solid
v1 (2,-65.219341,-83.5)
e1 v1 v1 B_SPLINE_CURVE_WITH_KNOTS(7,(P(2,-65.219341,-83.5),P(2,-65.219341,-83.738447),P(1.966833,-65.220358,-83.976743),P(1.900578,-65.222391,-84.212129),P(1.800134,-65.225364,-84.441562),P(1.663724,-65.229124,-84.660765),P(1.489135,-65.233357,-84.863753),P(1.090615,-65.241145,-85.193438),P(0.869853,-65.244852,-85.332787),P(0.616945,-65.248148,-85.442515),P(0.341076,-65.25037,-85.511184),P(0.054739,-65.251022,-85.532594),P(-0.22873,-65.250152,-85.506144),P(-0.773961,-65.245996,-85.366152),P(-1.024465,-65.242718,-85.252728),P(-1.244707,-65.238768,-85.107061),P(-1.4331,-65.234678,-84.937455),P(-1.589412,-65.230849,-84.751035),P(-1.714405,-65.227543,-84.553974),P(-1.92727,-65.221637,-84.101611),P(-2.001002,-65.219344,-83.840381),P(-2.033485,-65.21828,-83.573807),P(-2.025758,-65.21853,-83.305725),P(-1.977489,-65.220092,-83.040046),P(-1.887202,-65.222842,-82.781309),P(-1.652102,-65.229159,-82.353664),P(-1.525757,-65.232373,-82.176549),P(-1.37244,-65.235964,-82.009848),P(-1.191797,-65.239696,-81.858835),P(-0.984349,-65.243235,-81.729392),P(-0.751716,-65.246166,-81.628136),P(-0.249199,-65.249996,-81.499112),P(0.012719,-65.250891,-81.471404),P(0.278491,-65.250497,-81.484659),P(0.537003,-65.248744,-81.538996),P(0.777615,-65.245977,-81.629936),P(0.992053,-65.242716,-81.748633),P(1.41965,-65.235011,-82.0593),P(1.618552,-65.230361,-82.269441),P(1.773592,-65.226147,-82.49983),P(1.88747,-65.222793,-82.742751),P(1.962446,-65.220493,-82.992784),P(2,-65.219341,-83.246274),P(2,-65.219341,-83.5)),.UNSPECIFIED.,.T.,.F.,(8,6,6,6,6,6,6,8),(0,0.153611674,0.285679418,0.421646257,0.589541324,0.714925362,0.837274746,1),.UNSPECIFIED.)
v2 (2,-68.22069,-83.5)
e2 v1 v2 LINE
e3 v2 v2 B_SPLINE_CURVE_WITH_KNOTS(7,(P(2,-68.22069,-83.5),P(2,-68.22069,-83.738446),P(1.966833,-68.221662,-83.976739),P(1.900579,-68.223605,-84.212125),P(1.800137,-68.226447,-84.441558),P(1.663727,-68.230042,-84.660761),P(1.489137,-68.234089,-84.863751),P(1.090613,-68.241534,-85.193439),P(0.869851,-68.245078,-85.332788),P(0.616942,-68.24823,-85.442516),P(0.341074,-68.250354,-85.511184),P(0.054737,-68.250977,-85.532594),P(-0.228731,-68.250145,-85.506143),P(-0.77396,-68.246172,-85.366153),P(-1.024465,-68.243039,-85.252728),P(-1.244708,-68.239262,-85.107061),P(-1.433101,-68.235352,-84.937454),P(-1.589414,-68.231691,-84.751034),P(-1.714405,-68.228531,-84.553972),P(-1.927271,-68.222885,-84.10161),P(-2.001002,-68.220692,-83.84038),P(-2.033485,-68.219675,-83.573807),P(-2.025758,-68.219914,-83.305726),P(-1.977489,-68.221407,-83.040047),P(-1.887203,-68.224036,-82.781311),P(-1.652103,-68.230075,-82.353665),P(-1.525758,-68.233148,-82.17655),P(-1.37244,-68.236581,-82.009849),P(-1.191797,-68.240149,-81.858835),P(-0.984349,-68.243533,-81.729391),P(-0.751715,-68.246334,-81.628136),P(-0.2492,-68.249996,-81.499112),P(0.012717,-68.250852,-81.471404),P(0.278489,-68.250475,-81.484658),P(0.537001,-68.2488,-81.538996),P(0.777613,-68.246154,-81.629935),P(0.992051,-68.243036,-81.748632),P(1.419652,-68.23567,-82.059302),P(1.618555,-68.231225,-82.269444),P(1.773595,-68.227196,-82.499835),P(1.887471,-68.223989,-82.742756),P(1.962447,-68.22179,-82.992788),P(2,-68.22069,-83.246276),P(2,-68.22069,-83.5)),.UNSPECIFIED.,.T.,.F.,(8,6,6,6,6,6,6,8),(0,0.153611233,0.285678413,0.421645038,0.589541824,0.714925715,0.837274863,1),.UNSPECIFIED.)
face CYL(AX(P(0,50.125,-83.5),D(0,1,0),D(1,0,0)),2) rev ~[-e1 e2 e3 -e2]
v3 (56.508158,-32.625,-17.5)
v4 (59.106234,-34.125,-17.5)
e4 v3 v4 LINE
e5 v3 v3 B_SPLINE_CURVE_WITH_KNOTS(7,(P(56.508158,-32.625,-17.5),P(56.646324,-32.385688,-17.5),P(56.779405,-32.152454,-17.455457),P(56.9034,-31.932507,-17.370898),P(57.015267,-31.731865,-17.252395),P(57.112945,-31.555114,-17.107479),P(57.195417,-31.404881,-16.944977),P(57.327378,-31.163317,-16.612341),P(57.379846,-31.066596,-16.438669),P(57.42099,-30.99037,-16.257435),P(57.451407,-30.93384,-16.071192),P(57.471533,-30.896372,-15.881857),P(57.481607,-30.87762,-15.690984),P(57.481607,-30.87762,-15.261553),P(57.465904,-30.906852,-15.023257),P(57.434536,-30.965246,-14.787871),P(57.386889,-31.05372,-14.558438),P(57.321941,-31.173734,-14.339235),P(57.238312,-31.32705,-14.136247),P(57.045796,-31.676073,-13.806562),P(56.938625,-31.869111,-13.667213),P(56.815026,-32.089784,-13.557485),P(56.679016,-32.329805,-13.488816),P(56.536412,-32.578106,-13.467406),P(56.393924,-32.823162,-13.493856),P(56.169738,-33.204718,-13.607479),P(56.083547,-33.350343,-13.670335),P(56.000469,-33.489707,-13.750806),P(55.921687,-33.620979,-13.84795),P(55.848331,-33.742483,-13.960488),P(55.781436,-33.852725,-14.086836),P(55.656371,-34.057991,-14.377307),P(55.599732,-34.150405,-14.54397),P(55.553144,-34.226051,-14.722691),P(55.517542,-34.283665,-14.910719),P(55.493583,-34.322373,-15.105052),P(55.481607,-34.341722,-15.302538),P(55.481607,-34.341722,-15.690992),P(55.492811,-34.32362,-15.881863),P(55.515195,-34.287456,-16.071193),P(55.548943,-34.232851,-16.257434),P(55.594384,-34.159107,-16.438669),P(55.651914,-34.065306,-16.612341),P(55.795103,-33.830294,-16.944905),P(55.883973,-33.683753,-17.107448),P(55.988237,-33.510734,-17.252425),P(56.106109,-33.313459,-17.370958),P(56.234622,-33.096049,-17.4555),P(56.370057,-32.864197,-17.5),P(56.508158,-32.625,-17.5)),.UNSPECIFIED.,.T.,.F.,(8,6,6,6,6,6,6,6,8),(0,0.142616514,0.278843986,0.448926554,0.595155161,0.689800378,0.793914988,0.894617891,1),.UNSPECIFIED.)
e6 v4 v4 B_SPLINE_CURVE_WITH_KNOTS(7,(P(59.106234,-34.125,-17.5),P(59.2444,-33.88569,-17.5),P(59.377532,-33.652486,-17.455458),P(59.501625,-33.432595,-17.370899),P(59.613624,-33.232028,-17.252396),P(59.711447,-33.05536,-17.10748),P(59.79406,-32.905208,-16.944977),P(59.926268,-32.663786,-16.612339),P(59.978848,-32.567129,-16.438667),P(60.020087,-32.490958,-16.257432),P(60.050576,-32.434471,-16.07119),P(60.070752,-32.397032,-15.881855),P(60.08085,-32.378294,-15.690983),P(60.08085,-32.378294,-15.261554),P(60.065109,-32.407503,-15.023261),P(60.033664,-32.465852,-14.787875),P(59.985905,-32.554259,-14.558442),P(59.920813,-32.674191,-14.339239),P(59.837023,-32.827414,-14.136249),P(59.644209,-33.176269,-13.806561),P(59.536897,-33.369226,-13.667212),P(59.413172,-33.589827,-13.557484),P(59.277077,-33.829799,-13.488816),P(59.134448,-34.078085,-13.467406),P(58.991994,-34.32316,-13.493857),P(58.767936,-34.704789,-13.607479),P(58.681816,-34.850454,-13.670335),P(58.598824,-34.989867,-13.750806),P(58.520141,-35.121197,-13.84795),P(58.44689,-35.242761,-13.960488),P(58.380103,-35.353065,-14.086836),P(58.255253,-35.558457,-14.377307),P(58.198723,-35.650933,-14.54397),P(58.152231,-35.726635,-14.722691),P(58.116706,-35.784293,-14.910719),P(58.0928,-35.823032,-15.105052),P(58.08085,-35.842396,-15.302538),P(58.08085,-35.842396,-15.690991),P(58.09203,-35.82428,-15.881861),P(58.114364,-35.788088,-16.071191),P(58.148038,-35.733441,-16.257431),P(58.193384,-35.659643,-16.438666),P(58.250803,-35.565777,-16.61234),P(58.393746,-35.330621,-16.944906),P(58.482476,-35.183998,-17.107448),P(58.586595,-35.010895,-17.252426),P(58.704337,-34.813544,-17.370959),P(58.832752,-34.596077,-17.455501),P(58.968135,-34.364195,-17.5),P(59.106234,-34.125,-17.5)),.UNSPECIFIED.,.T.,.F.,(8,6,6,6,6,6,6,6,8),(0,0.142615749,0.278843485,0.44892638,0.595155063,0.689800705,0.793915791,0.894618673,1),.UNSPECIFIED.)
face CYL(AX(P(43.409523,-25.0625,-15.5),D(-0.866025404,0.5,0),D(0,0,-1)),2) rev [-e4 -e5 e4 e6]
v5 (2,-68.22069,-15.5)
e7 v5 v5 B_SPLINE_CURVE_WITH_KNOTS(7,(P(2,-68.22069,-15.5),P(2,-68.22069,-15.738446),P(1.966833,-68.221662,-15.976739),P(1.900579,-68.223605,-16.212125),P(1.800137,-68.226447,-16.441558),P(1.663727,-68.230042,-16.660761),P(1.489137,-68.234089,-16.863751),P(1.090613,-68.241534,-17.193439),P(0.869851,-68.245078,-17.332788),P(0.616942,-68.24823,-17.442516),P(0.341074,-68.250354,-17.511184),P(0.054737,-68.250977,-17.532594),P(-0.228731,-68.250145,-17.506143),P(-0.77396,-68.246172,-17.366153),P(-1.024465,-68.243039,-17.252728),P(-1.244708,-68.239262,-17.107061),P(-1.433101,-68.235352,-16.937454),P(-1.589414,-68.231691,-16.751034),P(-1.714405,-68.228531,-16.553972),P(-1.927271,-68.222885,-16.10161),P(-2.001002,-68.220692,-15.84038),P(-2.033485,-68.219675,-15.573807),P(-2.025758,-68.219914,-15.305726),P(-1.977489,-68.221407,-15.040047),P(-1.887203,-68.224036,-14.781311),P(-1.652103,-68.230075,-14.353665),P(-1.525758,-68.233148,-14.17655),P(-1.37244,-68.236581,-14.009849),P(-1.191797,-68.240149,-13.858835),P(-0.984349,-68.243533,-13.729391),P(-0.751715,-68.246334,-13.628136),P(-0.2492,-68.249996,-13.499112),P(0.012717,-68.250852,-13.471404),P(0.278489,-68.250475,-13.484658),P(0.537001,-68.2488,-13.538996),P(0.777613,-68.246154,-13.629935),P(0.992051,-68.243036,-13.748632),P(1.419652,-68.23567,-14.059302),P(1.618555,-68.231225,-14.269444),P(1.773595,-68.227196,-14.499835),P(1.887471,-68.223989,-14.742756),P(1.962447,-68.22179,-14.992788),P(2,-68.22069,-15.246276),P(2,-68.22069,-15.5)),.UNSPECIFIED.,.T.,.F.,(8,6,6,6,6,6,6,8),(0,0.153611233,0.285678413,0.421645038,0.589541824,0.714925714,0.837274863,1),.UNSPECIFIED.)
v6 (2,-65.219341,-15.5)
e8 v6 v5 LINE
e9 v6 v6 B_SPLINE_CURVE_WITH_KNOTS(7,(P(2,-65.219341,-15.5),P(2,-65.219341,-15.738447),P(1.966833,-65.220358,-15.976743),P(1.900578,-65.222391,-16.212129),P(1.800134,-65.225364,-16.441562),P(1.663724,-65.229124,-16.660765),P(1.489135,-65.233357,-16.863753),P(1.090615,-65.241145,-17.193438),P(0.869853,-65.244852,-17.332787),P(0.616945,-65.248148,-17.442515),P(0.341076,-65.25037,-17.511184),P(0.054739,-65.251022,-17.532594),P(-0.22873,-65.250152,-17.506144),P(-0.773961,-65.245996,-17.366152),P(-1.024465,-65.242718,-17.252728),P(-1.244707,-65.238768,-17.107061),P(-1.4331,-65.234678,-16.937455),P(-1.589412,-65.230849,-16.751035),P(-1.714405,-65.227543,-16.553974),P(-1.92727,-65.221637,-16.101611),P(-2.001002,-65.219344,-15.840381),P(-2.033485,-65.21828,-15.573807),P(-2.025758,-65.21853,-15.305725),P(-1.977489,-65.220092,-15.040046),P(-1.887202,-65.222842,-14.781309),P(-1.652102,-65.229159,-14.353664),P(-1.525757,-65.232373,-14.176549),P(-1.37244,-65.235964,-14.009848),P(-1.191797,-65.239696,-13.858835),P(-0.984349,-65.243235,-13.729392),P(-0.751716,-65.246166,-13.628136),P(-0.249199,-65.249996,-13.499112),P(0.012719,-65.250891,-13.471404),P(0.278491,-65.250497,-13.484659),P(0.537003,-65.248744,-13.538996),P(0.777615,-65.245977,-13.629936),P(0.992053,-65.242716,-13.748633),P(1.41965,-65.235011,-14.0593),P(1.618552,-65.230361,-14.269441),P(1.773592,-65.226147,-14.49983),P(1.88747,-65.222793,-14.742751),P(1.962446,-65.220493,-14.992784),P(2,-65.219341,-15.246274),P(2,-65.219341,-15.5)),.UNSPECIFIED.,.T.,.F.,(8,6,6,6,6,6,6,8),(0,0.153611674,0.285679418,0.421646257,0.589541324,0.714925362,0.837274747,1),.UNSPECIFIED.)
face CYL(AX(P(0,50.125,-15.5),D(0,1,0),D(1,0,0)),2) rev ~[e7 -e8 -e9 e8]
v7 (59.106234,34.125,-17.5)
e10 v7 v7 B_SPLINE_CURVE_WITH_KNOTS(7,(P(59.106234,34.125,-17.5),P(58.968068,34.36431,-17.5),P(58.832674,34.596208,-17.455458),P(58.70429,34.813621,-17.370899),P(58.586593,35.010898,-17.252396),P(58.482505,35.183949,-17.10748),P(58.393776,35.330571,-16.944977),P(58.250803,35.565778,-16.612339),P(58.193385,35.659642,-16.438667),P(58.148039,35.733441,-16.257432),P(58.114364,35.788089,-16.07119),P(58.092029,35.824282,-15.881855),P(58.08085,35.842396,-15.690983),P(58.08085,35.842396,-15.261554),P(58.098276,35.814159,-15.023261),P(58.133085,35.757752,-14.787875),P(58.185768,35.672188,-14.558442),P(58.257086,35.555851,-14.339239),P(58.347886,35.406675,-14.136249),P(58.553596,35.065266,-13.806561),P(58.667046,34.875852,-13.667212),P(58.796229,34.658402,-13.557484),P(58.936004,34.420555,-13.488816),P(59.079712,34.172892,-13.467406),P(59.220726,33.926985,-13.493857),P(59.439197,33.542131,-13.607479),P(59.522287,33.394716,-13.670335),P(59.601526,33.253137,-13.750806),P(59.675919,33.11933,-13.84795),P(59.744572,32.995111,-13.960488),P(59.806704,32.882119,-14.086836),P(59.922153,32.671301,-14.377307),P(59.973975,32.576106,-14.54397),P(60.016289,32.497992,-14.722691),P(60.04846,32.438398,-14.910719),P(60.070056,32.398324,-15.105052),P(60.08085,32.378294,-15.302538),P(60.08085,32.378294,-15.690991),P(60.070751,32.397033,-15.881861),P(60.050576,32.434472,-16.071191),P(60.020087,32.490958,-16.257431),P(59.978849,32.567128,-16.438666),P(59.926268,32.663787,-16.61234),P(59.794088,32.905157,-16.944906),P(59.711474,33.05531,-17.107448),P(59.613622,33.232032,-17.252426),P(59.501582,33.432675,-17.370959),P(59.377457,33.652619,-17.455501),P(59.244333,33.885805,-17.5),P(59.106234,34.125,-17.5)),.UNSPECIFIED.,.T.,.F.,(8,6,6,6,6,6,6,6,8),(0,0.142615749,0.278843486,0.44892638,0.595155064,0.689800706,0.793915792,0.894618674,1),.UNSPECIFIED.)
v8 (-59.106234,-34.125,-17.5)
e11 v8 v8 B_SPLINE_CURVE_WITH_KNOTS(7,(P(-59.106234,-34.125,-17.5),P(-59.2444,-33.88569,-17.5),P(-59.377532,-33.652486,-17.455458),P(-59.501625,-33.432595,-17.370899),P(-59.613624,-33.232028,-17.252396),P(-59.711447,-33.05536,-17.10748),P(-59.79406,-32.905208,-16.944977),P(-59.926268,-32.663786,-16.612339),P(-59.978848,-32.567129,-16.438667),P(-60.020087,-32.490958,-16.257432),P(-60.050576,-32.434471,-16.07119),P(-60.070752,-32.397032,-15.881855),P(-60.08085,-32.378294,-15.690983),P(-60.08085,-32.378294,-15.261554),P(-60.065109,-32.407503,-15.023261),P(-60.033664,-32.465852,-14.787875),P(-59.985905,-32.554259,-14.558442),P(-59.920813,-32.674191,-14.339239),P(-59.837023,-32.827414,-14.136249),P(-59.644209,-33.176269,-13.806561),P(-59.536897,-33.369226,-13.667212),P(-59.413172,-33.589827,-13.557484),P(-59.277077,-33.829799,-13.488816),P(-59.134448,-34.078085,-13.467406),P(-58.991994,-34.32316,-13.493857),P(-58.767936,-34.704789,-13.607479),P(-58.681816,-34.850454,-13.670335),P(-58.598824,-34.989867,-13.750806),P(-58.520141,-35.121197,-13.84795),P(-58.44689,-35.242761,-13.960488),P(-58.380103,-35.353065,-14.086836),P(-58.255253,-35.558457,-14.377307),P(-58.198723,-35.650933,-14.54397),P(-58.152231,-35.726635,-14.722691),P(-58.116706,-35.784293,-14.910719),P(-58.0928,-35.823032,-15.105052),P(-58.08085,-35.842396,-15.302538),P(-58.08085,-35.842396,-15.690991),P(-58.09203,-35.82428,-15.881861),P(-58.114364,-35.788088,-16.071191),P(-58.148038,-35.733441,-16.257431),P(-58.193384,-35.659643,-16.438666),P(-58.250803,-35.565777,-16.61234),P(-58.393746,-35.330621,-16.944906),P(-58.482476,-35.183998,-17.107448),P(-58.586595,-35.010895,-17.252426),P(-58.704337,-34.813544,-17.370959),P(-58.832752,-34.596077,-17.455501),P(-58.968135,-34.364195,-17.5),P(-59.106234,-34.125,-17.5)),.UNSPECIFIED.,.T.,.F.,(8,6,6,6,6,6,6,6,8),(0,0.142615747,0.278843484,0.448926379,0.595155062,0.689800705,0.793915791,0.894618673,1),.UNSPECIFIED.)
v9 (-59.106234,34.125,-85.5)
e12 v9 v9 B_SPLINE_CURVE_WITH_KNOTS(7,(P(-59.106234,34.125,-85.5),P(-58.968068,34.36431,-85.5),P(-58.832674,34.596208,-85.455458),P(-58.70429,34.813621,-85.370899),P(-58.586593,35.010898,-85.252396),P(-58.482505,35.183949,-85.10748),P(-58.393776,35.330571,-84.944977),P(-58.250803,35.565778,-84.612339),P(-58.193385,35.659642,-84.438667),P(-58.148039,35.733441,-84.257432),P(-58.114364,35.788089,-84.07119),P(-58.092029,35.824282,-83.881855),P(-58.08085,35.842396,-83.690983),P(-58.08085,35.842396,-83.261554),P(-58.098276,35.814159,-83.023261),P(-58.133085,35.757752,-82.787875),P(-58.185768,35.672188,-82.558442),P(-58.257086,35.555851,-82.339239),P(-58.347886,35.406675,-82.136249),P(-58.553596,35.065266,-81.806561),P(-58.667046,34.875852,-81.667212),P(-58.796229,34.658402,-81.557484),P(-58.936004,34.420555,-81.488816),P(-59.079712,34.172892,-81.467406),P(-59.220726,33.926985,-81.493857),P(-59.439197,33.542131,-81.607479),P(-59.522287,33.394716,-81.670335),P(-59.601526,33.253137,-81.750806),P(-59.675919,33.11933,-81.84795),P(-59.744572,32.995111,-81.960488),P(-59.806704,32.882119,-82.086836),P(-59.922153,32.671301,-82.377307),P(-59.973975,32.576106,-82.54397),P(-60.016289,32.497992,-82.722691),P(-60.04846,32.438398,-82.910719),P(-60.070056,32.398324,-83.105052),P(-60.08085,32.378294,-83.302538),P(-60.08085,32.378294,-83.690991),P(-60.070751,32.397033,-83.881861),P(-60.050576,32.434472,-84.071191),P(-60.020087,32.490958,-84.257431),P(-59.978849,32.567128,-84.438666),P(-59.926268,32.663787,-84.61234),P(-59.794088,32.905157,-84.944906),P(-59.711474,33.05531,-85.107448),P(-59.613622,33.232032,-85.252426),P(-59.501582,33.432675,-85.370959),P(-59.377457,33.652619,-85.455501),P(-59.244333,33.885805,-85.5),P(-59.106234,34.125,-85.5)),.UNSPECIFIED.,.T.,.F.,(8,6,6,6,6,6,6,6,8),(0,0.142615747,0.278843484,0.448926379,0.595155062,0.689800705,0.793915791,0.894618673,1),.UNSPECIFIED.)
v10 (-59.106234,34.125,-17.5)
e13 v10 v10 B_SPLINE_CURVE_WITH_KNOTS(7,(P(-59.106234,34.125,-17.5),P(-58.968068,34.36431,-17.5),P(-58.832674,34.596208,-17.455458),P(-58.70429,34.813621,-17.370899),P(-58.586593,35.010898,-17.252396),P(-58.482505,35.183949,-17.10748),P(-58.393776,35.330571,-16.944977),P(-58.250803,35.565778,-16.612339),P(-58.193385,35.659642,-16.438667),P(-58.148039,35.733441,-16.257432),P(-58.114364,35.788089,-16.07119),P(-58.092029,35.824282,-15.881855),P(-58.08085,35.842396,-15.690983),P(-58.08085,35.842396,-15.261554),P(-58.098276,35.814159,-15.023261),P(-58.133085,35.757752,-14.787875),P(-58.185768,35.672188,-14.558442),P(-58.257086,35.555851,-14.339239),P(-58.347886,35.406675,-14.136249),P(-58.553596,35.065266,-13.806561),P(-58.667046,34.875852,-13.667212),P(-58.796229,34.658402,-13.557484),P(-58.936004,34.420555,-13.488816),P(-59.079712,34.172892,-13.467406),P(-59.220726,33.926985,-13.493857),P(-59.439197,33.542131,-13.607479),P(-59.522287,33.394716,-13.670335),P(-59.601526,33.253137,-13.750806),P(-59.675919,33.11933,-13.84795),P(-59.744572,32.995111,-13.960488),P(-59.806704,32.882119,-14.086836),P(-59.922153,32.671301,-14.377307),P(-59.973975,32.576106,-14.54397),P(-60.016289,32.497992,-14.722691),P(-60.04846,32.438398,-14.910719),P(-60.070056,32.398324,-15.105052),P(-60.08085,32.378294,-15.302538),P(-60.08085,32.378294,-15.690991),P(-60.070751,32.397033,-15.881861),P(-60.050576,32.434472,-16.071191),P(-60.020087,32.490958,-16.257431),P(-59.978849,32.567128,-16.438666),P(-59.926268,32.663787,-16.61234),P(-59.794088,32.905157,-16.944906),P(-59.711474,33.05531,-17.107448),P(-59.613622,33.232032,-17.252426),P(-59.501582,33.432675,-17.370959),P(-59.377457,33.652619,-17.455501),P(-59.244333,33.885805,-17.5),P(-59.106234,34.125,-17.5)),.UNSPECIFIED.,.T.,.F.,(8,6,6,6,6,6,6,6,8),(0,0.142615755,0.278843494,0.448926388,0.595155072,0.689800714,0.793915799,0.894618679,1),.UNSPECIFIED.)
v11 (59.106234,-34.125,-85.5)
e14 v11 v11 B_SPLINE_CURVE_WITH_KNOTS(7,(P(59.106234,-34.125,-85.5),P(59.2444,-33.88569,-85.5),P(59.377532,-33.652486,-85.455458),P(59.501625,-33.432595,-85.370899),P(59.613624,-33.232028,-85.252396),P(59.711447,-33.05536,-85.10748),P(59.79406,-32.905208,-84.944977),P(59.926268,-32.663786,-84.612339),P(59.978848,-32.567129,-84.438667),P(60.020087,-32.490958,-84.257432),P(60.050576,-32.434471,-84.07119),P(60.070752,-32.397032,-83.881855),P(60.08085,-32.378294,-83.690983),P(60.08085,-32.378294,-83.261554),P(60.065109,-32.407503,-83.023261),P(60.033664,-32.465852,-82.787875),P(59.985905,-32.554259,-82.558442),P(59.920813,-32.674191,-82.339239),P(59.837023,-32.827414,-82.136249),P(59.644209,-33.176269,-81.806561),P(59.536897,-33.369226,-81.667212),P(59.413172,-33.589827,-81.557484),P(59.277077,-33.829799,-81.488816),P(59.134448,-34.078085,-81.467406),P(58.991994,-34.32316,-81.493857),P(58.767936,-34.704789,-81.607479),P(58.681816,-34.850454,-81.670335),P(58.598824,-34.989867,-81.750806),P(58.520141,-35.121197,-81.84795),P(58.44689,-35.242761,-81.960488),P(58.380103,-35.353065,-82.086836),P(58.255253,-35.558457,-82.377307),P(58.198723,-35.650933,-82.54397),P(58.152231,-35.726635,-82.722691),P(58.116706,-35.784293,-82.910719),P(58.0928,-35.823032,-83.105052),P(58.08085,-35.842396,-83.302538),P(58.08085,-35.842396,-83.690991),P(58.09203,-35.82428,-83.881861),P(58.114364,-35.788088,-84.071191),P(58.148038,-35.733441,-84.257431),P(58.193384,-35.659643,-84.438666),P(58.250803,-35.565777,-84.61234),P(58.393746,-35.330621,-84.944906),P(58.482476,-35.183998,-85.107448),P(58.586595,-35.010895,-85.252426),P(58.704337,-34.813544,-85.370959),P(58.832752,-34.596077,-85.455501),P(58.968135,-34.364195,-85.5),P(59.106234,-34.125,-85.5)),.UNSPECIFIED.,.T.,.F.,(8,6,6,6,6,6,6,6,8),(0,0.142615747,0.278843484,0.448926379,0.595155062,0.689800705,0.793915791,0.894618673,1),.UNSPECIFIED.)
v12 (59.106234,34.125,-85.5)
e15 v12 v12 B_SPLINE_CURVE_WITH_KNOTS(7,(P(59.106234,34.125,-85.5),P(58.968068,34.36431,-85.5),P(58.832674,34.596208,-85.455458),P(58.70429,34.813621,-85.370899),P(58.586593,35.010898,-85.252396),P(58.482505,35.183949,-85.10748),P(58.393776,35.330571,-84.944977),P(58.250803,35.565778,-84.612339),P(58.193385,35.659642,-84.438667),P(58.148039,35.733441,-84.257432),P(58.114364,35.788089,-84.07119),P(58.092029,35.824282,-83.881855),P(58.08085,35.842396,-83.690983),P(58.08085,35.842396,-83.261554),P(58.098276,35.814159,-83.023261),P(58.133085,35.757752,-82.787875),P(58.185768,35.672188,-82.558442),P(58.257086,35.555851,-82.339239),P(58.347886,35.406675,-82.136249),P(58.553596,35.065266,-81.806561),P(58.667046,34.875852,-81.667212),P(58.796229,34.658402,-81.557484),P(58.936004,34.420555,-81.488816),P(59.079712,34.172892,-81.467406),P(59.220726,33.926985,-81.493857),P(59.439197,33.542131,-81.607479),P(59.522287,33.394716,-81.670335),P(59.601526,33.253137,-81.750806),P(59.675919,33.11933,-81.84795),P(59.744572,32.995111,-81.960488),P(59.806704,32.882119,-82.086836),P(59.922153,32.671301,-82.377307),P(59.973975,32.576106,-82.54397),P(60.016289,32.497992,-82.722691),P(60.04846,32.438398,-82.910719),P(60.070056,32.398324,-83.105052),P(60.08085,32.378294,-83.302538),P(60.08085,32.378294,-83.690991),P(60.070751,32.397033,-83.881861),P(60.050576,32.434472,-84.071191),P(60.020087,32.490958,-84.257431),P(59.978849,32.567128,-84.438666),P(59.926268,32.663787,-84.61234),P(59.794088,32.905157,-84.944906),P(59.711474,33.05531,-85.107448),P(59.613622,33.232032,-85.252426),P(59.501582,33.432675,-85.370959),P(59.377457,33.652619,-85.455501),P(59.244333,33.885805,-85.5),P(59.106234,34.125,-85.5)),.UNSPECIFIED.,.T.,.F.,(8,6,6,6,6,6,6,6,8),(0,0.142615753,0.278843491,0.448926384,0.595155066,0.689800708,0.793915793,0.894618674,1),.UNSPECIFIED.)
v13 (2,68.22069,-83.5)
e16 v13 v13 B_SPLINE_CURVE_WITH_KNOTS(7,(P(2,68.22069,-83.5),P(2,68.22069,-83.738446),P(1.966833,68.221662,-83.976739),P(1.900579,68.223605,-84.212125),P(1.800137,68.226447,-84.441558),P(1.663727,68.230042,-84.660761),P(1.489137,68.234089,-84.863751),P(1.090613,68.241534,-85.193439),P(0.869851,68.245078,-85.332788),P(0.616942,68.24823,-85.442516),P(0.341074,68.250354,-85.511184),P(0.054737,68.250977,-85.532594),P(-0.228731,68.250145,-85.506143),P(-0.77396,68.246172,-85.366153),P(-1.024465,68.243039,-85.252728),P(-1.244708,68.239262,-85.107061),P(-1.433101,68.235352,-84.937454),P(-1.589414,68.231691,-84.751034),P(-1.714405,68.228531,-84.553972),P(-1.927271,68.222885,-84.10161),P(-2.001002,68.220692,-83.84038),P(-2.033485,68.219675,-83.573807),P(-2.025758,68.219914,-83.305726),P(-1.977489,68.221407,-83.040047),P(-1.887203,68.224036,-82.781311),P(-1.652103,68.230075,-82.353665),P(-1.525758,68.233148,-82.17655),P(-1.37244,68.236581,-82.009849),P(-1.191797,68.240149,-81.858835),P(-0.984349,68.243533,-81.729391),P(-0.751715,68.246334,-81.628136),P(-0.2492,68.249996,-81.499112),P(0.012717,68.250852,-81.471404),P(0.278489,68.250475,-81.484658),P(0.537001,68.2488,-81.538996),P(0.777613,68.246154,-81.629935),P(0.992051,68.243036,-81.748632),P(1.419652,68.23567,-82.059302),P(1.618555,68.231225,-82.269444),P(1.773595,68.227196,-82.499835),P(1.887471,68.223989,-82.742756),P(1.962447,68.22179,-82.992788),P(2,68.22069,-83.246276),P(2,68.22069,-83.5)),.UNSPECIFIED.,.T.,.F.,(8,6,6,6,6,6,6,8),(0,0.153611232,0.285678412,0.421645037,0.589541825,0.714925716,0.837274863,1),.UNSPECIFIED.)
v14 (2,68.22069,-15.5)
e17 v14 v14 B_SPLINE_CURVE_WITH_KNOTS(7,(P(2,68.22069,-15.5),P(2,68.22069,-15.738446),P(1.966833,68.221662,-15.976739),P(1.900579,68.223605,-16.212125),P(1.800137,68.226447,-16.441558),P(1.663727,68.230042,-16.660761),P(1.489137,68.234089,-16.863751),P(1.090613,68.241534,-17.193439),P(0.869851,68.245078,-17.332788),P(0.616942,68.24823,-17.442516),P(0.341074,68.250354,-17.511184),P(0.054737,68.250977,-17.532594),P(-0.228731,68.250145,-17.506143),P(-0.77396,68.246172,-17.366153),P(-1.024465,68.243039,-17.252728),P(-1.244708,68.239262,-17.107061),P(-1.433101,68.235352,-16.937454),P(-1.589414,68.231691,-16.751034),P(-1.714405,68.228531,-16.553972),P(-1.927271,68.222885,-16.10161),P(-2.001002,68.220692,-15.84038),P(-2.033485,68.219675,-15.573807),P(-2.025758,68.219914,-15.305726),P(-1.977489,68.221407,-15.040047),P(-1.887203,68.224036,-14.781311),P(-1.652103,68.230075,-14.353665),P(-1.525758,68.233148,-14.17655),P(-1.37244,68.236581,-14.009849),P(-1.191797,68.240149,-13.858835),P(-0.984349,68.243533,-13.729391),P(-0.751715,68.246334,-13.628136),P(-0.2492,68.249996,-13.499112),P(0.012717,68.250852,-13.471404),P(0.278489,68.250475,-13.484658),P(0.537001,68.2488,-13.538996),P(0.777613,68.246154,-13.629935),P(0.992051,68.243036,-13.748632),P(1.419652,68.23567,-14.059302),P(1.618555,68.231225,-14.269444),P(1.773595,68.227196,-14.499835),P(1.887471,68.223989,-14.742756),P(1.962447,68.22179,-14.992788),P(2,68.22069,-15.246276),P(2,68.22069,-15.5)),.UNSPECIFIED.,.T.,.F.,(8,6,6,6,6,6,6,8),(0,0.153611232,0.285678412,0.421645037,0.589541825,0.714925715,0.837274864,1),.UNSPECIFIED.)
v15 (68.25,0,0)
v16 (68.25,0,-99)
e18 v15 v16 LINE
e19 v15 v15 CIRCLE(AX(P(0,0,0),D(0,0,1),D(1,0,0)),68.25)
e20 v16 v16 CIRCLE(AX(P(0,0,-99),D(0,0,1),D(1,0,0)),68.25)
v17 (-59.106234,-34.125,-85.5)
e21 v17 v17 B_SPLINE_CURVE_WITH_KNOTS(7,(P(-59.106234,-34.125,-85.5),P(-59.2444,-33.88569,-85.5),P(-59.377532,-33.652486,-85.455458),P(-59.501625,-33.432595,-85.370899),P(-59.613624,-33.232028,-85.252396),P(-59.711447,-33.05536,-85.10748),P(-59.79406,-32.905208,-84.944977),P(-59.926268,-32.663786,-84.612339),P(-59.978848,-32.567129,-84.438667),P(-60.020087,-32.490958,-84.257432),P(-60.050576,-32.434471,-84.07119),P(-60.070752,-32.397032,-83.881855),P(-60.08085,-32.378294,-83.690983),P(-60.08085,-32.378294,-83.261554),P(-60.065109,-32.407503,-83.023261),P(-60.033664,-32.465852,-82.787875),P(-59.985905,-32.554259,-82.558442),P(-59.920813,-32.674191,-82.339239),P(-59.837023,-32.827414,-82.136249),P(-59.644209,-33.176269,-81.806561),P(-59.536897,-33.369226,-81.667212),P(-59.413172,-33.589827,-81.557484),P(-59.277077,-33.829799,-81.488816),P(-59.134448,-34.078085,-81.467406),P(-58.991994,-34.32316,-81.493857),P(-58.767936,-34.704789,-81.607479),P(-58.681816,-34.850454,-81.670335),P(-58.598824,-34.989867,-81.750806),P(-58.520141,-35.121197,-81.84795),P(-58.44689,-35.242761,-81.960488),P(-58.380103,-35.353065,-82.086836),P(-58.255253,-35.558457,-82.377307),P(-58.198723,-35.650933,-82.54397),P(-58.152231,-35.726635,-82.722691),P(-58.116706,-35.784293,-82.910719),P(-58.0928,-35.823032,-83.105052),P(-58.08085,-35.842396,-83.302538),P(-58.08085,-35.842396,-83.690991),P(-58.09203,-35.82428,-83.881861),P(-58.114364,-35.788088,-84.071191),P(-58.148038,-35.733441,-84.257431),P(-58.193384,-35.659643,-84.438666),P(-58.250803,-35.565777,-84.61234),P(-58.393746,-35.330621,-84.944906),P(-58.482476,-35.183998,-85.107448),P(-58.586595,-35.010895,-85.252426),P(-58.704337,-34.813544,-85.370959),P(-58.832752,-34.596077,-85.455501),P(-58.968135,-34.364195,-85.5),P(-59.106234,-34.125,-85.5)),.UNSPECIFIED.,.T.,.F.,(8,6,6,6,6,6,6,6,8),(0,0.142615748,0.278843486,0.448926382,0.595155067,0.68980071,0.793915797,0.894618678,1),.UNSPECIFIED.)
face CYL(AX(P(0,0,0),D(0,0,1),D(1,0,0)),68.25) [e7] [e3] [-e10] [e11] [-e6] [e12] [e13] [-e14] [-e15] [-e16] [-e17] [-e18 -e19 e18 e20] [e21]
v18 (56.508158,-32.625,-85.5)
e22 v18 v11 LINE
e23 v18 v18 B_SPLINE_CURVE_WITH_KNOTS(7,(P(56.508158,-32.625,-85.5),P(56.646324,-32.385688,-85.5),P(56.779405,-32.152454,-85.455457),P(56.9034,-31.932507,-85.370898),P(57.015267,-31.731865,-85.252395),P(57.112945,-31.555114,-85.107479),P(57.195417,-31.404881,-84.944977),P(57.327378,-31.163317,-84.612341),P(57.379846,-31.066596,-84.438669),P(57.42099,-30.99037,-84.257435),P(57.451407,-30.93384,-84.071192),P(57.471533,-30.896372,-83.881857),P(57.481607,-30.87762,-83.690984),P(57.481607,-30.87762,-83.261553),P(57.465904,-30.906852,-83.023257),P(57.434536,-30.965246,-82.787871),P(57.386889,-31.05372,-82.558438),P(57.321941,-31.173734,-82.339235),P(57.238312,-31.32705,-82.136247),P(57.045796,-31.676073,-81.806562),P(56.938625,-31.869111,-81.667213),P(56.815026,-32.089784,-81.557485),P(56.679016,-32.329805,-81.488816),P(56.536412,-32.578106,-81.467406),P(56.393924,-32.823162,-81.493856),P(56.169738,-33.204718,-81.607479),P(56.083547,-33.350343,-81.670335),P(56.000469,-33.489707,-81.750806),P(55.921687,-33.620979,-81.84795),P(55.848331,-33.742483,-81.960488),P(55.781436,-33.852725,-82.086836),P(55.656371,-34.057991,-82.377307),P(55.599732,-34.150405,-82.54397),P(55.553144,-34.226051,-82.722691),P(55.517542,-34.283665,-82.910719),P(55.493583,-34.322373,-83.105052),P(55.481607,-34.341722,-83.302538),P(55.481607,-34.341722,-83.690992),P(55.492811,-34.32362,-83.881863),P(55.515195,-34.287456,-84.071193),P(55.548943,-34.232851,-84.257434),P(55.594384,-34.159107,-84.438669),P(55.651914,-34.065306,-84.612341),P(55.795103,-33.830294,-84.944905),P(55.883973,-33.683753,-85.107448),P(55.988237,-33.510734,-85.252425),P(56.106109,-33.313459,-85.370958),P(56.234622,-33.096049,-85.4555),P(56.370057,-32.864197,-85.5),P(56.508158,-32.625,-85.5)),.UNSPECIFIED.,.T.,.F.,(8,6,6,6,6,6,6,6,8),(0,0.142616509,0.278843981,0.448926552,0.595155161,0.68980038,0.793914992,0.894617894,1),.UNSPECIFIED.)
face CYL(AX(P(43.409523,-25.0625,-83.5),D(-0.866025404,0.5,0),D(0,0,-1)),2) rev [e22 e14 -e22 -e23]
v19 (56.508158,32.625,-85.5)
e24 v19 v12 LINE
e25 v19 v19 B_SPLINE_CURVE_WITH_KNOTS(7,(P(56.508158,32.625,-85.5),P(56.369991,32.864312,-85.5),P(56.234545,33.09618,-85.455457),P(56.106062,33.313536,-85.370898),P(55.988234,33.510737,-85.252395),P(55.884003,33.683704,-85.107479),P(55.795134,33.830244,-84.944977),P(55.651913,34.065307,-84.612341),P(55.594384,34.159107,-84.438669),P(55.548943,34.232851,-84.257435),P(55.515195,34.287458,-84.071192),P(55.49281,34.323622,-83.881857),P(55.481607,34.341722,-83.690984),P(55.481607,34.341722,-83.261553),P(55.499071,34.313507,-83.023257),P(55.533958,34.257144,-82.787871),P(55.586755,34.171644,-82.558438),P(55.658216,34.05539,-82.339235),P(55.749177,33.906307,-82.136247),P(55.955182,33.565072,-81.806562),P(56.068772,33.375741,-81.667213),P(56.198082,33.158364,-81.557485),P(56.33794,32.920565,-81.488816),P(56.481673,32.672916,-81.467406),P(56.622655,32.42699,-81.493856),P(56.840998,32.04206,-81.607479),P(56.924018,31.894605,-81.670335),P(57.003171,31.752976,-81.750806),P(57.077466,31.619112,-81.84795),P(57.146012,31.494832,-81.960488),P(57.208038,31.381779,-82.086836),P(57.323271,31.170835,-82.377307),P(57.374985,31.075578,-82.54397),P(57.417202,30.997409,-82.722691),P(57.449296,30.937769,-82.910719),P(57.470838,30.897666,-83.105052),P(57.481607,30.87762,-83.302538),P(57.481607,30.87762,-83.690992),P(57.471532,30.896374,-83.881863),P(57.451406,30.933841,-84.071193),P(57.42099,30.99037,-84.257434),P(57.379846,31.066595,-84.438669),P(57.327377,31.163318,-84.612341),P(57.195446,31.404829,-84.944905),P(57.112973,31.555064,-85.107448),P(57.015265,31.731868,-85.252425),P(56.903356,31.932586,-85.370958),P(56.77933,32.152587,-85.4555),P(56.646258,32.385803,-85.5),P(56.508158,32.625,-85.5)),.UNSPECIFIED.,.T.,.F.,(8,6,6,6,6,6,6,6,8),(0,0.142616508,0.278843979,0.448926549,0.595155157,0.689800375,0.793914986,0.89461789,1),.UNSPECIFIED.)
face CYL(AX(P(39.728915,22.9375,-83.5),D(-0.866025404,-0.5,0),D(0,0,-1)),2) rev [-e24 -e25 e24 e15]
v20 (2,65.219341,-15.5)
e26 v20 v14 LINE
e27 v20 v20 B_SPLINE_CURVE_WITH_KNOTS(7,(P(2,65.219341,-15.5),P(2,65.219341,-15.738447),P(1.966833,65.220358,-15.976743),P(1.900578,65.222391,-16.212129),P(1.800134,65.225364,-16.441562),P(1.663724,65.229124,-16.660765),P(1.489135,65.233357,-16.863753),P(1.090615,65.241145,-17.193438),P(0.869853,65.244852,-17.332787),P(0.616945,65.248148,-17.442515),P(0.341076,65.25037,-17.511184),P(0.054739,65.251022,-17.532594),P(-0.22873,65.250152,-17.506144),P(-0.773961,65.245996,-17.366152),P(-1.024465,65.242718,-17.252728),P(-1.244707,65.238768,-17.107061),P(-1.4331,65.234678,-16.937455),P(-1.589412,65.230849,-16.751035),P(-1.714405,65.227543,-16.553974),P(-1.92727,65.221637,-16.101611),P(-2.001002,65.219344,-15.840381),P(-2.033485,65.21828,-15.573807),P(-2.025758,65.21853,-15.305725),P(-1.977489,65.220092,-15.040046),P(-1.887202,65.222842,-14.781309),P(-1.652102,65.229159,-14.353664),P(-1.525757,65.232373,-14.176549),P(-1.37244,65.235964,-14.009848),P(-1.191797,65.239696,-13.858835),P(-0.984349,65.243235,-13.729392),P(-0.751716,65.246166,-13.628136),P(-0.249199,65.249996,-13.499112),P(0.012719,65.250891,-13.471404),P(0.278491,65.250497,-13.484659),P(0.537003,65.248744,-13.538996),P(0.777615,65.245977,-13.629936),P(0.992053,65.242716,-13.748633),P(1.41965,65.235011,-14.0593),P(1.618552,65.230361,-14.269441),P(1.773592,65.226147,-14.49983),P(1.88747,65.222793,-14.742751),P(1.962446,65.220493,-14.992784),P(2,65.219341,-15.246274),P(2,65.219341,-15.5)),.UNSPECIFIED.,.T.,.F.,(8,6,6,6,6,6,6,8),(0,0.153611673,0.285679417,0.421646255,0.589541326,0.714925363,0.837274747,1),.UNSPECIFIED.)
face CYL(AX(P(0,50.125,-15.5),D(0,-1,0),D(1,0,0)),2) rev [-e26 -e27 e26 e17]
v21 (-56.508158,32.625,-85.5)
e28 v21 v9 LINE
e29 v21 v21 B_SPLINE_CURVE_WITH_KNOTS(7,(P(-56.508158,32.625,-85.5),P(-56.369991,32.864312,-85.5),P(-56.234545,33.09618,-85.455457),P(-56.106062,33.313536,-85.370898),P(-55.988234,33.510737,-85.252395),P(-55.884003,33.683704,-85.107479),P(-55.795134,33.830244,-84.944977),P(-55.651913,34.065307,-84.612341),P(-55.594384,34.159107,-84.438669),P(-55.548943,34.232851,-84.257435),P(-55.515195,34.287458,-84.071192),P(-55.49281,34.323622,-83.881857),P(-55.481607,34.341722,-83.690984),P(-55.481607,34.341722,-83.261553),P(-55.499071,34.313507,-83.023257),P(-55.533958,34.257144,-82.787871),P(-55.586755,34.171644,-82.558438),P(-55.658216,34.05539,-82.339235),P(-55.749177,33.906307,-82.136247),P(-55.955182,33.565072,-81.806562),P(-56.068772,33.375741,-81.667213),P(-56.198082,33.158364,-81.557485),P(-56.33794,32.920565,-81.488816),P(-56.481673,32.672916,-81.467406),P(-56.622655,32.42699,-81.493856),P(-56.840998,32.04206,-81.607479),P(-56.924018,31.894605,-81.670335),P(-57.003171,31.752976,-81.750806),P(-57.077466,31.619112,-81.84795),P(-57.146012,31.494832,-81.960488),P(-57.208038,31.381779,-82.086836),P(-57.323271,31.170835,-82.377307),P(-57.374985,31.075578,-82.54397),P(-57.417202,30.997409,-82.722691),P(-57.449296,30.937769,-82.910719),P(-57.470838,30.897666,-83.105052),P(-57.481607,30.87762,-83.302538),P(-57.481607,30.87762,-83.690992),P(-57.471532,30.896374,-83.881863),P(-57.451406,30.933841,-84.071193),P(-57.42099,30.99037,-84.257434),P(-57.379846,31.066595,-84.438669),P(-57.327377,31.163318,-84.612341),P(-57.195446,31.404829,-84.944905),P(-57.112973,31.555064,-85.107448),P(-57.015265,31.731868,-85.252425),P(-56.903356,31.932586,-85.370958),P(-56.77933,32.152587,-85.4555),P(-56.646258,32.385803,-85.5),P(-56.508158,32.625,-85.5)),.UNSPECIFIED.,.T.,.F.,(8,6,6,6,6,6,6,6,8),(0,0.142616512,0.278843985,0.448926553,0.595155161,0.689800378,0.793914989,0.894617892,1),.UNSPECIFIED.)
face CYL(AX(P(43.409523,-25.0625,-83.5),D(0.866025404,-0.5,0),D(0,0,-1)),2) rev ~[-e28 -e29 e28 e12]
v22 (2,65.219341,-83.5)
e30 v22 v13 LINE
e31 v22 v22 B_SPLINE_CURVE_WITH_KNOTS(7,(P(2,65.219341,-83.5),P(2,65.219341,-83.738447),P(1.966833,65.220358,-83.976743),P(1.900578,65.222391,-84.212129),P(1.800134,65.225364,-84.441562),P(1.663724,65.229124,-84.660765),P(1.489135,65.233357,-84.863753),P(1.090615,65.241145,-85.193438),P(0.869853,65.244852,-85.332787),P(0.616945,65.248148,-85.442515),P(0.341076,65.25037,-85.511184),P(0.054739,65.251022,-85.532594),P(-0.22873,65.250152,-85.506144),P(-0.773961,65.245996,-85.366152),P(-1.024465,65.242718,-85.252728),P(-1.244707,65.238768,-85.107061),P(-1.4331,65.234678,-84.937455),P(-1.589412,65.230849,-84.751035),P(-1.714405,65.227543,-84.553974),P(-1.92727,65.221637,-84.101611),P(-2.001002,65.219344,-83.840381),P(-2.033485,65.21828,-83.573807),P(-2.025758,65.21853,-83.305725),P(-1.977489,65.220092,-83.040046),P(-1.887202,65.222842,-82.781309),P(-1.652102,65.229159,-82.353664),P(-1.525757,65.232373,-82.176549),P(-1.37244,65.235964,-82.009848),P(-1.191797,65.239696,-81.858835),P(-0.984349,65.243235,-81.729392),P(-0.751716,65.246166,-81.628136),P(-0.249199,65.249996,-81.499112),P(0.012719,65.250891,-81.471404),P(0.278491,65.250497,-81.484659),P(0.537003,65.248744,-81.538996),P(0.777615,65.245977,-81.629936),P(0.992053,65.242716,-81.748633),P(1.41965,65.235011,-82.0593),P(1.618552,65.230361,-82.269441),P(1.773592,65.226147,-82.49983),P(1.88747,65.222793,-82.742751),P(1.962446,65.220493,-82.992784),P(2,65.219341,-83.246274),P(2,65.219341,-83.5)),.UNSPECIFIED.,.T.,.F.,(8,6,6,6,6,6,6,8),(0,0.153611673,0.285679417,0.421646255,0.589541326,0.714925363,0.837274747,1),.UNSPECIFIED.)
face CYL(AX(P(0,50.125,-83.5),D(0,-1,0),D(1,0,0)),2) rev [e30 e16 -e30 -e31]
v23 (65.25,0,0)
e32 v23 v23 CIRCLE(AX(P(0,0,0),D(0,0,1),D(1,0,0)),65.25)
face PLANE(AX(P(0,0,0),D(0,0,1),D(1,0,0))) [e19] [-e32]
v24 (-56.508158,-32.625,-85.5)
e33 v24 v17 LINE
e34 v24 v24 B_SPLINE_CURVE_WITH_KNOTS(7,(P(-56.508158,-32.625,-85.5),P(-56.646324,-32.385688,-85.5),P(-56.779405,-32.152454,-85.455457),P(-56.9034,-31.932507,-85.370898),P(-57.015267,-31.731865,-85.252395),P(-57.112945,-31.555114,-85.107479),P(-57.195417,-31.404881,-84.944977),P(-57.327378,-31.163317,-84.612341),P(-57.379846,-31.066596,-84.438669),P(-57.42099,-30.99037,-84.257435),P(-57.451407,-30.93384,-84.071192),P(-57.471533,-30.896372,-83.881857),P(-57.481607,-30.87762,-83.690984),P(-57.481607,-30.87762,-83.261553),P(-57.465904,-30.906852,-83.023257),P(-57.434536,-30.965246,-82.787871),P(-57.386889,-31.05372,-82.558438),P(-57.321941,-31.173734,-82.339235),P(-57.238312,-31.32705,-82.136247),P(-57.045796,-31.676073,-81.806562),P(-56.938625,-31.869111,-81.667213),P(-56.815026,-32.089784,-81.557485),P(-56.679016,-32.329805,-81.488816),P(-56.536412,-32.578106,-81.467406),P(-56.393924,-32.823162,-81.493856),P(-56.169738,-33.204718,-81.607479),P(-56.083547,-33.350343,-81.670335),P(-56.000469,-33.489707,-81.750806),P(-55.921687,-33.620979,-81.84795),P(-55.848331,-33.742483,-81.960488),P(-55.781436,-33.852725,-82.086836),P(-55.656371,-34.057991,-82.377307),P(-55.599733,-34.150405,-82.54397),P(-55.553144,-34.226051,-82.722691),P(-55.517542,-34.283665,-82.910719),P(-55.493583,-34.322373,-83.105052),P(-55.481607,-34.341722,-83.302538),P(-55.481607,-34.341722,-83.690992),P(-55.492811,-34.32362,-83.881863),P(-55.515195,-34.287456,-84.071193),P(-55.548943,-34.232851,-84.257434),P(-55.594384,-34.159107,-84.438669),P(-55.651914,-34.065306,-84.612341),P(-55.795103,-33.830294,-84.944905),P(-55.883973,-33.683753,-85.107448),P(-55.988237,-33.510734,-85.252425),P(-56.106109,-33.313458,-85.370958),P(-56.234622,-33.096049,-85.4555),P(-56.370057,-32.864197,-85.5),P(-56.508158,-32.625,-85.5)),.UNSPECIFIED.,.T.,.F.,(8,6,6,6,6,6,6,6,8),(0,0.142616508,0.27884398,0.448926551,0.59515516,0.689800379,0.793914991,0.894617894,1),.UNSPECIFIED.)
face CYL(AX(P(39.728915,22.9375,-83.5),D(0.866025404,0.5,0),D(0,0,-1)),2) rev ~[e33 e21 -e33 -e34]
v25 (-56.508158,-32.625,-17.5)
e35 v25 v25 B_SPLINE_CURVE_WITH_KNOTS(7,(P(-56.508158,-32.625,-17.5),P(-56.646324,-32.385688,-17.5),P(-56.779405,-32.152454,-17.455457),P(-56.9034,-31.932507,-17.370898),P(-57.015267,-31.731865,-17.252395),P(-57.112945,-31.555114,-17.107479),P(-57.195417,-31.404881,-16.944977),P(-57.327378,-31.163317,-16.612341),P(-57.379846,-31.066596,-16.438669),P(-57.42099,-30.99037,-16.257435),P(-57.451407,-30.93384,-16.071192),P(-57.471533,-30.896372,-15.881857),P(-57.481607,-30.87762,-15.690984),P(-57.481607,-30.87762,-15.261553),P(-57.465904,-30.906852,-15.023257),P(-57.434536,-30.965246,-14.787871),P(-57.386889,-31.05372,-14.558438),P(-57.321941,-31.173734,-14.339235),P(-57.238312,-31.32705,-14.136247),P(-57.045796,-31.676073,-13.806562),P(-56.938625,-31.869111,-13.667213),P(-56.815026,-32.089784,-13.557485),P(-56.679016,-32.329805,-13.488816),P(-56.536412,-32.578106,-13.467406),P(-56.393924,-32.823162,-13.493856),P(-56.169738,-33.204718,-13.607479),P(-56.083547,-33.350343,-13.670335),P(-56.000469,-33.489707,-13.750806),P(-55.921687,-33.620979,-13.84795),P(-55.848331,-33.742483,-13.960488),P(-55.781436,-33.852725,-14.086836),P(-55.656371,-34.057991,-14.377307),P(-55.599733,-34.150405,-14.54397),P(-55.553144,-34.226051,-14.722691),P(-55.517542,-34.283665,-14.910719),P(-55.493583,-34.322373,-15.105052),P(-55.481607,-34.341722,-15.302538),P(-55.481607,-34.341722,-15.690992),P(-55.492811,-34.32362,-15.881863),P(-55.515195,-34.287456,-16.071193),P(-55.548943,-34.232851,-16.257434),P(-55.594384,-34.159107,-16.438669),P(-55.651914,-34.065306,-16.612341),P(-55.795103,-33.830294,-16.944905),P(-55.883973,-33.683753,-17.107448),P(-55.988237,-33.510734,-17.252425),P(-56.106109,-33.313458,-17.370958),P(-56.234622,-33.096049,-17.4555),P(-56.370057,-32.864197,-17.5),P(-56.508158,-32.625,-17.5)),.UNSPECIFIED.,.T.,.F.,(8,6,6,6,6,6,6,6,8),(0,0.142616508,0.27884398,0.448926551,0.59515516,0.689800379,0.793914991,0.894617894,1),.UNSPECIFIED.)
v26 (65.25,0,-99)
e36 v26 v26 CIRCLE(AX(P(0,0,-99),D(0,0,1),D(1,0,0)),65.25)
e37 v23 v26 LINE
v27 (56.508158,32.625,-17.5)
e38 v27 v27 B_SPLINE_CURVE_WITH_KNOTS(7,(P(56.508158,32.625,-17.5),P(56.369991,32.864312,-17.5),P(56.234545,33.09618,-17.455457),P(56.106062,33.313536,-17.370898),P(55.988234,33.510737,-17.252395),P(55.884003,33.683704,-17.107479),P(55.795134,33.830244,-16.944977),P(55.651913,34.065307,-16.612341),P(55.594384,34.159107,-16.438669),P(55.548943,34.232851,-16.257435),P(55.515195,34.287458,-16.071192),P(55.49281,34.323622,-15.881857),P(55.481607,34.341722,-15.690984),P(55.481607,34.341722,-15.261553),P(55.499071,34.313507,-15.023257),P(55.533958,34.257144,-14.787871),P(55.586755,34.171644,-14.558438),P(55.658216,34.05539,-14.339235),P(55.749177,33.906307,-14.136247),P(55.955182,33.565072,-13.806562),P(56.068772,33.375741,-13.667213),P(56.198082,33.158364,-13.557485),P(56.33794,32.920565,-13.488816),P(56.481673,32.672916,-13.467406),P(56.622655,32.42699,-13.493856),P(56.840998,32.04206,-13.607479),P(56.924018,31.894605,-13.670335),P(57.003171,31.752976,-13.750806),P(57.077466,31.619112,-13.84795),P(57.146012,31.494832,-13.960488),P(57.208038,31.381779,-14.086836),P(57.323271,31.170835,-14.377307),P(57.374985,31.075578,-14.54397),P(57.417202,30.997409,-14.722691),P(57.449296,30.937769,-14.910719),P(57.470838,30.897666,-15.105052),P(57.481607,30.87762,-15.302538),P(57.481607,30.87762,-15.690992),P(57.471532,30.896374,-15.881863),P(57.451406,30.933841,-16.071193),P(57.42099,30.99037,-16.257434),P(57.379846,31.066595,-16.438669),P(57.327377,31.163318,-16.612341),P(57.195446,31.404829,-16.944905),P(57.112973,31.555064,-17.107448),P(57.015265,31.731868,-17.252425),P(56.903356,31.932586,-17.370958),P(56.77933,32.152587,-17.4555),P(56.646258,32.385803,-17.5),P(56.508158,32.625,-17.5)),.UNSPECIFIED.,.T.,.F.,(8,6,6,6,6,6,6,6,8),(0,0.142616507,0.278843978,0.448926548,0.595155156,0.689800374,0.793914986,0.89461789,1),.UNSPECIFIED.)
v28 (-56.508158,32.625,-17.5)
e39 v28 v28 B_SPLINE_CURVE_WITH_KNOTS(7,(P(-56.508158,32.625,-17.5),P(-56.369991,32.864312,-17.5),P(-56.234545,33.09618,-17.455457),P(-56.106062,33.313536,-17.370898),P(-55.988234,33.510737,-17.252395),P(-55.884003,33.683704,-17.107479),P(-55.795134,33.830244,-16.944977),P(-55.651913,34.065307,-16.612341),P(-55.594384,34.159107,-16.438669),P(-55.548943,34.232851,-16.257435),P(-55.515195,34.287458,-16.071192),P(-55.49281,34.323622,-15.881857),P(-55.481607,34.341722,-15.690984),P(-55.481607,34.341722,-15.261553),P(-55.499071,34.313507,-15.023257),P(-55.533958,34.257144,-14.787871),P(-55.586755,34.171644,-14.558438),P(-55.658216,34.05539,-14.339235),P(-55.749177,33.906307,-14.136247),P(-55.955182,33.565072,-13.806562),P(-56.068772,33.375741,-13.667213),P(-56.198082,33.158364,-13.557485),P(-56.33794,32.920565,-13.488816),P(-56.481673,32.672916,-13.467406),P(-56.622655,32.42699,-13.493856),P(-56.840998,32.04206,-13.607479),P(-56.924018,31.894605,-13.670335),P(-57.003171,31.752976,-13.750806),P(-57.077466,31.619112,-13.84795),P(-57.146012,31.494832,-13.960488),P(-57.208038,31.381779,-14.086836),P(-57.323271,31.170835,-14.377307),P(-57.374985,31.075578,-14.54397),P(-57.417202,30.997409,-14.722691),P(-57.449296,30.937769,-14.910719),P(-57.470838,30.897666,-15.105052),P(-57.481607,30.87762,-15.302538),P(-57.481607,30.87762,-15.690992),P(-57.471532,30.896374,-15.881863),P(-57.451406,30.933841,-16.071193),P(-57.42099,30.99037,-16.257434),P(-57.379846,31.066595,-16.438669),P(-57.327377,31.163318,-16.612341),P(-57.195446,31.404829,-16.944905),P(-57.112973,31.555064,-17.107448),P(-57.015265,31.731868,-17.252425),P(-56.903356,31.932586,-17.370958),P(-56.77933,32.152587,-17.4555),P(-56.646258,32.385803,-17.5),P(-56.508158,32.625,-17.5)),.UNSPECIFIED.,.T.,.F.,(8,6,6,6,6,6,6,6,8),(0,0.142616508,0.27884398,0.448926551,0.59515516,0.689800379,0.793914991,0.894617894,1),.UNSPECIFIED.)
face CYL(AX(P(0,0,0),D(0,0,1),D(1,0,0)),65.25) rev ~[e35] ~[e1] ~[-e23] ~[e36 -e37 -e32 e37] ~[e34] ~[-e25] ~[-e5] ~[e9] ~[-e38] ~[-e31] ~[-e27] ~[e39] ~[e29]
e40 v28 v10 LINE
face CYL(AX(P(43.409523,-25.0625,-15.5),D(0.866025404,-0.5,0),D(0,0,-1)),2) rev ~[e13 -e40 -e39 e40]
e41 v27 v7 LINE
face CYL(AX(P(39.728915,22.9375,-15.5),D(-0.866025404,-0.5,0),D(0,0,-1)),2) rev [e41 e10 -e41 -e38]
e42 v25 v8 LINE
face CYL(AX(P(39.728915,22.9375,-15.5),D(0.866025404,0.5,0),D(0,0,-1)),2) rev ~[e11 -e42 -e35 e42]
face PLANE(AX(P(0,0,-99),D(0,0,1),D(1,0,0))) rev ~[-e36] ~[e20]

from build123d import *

# Parameters (mm, degrees)
SKETCH1_R               = 68.25
SKETCH1_R_2             = 65.25
BOSS_EXTRUDE1_DEPTH     = 99
SKETCH2_R               = 2
CUT_EXTRUDE1_DEPTH      = 44.106233808
CUT_EXTRUDE1_DEPTH_BACK = 144.356233808
SKETCH3_R               = 2
CUT_EXTRUDE2_DEPTH      = 19.1250001
CUT_EXTRUDE2_DEPTH_BACK = 119.3750001
SKETCH4_R               = 2
CUT_EXTRUDE3_DEPTH      = 48.356233952
CUT_EXTRUDE3_DEPTH_BACK = 140.106233952


with BuildPart() as part:
    # Sketch1 → Boss-Extrude1 (new body)
    with BuildSketch(Plane.XY):
        Circle(SKETCH1_R)
        Circle(SKETCH1_R_2, mode=Mode.SUBTRACT)
    extrude(amount=-BOSS_EXTRUDE1_DEPTH)

    # Sketch2 → Cut-Extrude1 (cut, two sides)
    with BuildSketch(Plane(origin=(41.534523365, -28.310095264, -87.5), x_dir=(0, 0, -1), z_dir=(0.866025404, -0.5, 0))) as cut_extrude1_sk:
        with Locations((-4, 3.75)):
            Circle(SKETCH2_R)
        with Locations((-72, 3.75)):
            Circle(SKETCH2_R)
    extrude(amount=CUT_EXTRUDE1_DEPTH, mode=Mode.SUBTRACT)
    extrude(cut_extrude1_sk.sketch, amount=-CUT_EXTRUDE1_DEPTH_BACK, mode=Mode.SUBTRACT)

    # Sketch3 → Cut-Extrude2 (cut, two sides)
    with BuildSketch(Plane(origin=(3.75, 50.125, -87.5), x_dir=(1, 0, 0), z_dir=(0, 1, 0))) as cut_extrude2_sk:
        with Locations((-3.75, -4)):
            Circle(SKETCH3_R)
        with Locations((-3.75, -72)):
            Circle(SKETCH3_R)
    extrude(amount=CUT_EXTRUDE2_DEPTH, mode=Mode.SUBTRACT)
    extrude(cut_extrude2_sk.sketch, amount=-CUT_EXTRUDE2_DEPTH_BACK, mode=Mode.SUBTRACT)

    # Sketch4 → Cut-Extrude3 (cut, two sides)
    with BuildSketch(Plane(origin=(41.603915399, 19.689904736, -87.5), x_dir=(0, 0, -1), z_dir=(0.866025404, 0.5, 0))) as cut_extrude3_sk:
        with Locations((-4, 3.75)):
            Circle(SKETCH4_R)
        with Locations((-72, 3.75)):
            Circle(SKETCH4_R)
    extrude(amount=CUT_EXTRUDE3_DEPTH, mode=Mode.SUBTRACT)
    extrude(cut_extrude3_sk.sketch, amount=-CUT_EXTRUDE3_DEPTH_BACK, mode=Mode.SUBTRACT)


solid = part.part
